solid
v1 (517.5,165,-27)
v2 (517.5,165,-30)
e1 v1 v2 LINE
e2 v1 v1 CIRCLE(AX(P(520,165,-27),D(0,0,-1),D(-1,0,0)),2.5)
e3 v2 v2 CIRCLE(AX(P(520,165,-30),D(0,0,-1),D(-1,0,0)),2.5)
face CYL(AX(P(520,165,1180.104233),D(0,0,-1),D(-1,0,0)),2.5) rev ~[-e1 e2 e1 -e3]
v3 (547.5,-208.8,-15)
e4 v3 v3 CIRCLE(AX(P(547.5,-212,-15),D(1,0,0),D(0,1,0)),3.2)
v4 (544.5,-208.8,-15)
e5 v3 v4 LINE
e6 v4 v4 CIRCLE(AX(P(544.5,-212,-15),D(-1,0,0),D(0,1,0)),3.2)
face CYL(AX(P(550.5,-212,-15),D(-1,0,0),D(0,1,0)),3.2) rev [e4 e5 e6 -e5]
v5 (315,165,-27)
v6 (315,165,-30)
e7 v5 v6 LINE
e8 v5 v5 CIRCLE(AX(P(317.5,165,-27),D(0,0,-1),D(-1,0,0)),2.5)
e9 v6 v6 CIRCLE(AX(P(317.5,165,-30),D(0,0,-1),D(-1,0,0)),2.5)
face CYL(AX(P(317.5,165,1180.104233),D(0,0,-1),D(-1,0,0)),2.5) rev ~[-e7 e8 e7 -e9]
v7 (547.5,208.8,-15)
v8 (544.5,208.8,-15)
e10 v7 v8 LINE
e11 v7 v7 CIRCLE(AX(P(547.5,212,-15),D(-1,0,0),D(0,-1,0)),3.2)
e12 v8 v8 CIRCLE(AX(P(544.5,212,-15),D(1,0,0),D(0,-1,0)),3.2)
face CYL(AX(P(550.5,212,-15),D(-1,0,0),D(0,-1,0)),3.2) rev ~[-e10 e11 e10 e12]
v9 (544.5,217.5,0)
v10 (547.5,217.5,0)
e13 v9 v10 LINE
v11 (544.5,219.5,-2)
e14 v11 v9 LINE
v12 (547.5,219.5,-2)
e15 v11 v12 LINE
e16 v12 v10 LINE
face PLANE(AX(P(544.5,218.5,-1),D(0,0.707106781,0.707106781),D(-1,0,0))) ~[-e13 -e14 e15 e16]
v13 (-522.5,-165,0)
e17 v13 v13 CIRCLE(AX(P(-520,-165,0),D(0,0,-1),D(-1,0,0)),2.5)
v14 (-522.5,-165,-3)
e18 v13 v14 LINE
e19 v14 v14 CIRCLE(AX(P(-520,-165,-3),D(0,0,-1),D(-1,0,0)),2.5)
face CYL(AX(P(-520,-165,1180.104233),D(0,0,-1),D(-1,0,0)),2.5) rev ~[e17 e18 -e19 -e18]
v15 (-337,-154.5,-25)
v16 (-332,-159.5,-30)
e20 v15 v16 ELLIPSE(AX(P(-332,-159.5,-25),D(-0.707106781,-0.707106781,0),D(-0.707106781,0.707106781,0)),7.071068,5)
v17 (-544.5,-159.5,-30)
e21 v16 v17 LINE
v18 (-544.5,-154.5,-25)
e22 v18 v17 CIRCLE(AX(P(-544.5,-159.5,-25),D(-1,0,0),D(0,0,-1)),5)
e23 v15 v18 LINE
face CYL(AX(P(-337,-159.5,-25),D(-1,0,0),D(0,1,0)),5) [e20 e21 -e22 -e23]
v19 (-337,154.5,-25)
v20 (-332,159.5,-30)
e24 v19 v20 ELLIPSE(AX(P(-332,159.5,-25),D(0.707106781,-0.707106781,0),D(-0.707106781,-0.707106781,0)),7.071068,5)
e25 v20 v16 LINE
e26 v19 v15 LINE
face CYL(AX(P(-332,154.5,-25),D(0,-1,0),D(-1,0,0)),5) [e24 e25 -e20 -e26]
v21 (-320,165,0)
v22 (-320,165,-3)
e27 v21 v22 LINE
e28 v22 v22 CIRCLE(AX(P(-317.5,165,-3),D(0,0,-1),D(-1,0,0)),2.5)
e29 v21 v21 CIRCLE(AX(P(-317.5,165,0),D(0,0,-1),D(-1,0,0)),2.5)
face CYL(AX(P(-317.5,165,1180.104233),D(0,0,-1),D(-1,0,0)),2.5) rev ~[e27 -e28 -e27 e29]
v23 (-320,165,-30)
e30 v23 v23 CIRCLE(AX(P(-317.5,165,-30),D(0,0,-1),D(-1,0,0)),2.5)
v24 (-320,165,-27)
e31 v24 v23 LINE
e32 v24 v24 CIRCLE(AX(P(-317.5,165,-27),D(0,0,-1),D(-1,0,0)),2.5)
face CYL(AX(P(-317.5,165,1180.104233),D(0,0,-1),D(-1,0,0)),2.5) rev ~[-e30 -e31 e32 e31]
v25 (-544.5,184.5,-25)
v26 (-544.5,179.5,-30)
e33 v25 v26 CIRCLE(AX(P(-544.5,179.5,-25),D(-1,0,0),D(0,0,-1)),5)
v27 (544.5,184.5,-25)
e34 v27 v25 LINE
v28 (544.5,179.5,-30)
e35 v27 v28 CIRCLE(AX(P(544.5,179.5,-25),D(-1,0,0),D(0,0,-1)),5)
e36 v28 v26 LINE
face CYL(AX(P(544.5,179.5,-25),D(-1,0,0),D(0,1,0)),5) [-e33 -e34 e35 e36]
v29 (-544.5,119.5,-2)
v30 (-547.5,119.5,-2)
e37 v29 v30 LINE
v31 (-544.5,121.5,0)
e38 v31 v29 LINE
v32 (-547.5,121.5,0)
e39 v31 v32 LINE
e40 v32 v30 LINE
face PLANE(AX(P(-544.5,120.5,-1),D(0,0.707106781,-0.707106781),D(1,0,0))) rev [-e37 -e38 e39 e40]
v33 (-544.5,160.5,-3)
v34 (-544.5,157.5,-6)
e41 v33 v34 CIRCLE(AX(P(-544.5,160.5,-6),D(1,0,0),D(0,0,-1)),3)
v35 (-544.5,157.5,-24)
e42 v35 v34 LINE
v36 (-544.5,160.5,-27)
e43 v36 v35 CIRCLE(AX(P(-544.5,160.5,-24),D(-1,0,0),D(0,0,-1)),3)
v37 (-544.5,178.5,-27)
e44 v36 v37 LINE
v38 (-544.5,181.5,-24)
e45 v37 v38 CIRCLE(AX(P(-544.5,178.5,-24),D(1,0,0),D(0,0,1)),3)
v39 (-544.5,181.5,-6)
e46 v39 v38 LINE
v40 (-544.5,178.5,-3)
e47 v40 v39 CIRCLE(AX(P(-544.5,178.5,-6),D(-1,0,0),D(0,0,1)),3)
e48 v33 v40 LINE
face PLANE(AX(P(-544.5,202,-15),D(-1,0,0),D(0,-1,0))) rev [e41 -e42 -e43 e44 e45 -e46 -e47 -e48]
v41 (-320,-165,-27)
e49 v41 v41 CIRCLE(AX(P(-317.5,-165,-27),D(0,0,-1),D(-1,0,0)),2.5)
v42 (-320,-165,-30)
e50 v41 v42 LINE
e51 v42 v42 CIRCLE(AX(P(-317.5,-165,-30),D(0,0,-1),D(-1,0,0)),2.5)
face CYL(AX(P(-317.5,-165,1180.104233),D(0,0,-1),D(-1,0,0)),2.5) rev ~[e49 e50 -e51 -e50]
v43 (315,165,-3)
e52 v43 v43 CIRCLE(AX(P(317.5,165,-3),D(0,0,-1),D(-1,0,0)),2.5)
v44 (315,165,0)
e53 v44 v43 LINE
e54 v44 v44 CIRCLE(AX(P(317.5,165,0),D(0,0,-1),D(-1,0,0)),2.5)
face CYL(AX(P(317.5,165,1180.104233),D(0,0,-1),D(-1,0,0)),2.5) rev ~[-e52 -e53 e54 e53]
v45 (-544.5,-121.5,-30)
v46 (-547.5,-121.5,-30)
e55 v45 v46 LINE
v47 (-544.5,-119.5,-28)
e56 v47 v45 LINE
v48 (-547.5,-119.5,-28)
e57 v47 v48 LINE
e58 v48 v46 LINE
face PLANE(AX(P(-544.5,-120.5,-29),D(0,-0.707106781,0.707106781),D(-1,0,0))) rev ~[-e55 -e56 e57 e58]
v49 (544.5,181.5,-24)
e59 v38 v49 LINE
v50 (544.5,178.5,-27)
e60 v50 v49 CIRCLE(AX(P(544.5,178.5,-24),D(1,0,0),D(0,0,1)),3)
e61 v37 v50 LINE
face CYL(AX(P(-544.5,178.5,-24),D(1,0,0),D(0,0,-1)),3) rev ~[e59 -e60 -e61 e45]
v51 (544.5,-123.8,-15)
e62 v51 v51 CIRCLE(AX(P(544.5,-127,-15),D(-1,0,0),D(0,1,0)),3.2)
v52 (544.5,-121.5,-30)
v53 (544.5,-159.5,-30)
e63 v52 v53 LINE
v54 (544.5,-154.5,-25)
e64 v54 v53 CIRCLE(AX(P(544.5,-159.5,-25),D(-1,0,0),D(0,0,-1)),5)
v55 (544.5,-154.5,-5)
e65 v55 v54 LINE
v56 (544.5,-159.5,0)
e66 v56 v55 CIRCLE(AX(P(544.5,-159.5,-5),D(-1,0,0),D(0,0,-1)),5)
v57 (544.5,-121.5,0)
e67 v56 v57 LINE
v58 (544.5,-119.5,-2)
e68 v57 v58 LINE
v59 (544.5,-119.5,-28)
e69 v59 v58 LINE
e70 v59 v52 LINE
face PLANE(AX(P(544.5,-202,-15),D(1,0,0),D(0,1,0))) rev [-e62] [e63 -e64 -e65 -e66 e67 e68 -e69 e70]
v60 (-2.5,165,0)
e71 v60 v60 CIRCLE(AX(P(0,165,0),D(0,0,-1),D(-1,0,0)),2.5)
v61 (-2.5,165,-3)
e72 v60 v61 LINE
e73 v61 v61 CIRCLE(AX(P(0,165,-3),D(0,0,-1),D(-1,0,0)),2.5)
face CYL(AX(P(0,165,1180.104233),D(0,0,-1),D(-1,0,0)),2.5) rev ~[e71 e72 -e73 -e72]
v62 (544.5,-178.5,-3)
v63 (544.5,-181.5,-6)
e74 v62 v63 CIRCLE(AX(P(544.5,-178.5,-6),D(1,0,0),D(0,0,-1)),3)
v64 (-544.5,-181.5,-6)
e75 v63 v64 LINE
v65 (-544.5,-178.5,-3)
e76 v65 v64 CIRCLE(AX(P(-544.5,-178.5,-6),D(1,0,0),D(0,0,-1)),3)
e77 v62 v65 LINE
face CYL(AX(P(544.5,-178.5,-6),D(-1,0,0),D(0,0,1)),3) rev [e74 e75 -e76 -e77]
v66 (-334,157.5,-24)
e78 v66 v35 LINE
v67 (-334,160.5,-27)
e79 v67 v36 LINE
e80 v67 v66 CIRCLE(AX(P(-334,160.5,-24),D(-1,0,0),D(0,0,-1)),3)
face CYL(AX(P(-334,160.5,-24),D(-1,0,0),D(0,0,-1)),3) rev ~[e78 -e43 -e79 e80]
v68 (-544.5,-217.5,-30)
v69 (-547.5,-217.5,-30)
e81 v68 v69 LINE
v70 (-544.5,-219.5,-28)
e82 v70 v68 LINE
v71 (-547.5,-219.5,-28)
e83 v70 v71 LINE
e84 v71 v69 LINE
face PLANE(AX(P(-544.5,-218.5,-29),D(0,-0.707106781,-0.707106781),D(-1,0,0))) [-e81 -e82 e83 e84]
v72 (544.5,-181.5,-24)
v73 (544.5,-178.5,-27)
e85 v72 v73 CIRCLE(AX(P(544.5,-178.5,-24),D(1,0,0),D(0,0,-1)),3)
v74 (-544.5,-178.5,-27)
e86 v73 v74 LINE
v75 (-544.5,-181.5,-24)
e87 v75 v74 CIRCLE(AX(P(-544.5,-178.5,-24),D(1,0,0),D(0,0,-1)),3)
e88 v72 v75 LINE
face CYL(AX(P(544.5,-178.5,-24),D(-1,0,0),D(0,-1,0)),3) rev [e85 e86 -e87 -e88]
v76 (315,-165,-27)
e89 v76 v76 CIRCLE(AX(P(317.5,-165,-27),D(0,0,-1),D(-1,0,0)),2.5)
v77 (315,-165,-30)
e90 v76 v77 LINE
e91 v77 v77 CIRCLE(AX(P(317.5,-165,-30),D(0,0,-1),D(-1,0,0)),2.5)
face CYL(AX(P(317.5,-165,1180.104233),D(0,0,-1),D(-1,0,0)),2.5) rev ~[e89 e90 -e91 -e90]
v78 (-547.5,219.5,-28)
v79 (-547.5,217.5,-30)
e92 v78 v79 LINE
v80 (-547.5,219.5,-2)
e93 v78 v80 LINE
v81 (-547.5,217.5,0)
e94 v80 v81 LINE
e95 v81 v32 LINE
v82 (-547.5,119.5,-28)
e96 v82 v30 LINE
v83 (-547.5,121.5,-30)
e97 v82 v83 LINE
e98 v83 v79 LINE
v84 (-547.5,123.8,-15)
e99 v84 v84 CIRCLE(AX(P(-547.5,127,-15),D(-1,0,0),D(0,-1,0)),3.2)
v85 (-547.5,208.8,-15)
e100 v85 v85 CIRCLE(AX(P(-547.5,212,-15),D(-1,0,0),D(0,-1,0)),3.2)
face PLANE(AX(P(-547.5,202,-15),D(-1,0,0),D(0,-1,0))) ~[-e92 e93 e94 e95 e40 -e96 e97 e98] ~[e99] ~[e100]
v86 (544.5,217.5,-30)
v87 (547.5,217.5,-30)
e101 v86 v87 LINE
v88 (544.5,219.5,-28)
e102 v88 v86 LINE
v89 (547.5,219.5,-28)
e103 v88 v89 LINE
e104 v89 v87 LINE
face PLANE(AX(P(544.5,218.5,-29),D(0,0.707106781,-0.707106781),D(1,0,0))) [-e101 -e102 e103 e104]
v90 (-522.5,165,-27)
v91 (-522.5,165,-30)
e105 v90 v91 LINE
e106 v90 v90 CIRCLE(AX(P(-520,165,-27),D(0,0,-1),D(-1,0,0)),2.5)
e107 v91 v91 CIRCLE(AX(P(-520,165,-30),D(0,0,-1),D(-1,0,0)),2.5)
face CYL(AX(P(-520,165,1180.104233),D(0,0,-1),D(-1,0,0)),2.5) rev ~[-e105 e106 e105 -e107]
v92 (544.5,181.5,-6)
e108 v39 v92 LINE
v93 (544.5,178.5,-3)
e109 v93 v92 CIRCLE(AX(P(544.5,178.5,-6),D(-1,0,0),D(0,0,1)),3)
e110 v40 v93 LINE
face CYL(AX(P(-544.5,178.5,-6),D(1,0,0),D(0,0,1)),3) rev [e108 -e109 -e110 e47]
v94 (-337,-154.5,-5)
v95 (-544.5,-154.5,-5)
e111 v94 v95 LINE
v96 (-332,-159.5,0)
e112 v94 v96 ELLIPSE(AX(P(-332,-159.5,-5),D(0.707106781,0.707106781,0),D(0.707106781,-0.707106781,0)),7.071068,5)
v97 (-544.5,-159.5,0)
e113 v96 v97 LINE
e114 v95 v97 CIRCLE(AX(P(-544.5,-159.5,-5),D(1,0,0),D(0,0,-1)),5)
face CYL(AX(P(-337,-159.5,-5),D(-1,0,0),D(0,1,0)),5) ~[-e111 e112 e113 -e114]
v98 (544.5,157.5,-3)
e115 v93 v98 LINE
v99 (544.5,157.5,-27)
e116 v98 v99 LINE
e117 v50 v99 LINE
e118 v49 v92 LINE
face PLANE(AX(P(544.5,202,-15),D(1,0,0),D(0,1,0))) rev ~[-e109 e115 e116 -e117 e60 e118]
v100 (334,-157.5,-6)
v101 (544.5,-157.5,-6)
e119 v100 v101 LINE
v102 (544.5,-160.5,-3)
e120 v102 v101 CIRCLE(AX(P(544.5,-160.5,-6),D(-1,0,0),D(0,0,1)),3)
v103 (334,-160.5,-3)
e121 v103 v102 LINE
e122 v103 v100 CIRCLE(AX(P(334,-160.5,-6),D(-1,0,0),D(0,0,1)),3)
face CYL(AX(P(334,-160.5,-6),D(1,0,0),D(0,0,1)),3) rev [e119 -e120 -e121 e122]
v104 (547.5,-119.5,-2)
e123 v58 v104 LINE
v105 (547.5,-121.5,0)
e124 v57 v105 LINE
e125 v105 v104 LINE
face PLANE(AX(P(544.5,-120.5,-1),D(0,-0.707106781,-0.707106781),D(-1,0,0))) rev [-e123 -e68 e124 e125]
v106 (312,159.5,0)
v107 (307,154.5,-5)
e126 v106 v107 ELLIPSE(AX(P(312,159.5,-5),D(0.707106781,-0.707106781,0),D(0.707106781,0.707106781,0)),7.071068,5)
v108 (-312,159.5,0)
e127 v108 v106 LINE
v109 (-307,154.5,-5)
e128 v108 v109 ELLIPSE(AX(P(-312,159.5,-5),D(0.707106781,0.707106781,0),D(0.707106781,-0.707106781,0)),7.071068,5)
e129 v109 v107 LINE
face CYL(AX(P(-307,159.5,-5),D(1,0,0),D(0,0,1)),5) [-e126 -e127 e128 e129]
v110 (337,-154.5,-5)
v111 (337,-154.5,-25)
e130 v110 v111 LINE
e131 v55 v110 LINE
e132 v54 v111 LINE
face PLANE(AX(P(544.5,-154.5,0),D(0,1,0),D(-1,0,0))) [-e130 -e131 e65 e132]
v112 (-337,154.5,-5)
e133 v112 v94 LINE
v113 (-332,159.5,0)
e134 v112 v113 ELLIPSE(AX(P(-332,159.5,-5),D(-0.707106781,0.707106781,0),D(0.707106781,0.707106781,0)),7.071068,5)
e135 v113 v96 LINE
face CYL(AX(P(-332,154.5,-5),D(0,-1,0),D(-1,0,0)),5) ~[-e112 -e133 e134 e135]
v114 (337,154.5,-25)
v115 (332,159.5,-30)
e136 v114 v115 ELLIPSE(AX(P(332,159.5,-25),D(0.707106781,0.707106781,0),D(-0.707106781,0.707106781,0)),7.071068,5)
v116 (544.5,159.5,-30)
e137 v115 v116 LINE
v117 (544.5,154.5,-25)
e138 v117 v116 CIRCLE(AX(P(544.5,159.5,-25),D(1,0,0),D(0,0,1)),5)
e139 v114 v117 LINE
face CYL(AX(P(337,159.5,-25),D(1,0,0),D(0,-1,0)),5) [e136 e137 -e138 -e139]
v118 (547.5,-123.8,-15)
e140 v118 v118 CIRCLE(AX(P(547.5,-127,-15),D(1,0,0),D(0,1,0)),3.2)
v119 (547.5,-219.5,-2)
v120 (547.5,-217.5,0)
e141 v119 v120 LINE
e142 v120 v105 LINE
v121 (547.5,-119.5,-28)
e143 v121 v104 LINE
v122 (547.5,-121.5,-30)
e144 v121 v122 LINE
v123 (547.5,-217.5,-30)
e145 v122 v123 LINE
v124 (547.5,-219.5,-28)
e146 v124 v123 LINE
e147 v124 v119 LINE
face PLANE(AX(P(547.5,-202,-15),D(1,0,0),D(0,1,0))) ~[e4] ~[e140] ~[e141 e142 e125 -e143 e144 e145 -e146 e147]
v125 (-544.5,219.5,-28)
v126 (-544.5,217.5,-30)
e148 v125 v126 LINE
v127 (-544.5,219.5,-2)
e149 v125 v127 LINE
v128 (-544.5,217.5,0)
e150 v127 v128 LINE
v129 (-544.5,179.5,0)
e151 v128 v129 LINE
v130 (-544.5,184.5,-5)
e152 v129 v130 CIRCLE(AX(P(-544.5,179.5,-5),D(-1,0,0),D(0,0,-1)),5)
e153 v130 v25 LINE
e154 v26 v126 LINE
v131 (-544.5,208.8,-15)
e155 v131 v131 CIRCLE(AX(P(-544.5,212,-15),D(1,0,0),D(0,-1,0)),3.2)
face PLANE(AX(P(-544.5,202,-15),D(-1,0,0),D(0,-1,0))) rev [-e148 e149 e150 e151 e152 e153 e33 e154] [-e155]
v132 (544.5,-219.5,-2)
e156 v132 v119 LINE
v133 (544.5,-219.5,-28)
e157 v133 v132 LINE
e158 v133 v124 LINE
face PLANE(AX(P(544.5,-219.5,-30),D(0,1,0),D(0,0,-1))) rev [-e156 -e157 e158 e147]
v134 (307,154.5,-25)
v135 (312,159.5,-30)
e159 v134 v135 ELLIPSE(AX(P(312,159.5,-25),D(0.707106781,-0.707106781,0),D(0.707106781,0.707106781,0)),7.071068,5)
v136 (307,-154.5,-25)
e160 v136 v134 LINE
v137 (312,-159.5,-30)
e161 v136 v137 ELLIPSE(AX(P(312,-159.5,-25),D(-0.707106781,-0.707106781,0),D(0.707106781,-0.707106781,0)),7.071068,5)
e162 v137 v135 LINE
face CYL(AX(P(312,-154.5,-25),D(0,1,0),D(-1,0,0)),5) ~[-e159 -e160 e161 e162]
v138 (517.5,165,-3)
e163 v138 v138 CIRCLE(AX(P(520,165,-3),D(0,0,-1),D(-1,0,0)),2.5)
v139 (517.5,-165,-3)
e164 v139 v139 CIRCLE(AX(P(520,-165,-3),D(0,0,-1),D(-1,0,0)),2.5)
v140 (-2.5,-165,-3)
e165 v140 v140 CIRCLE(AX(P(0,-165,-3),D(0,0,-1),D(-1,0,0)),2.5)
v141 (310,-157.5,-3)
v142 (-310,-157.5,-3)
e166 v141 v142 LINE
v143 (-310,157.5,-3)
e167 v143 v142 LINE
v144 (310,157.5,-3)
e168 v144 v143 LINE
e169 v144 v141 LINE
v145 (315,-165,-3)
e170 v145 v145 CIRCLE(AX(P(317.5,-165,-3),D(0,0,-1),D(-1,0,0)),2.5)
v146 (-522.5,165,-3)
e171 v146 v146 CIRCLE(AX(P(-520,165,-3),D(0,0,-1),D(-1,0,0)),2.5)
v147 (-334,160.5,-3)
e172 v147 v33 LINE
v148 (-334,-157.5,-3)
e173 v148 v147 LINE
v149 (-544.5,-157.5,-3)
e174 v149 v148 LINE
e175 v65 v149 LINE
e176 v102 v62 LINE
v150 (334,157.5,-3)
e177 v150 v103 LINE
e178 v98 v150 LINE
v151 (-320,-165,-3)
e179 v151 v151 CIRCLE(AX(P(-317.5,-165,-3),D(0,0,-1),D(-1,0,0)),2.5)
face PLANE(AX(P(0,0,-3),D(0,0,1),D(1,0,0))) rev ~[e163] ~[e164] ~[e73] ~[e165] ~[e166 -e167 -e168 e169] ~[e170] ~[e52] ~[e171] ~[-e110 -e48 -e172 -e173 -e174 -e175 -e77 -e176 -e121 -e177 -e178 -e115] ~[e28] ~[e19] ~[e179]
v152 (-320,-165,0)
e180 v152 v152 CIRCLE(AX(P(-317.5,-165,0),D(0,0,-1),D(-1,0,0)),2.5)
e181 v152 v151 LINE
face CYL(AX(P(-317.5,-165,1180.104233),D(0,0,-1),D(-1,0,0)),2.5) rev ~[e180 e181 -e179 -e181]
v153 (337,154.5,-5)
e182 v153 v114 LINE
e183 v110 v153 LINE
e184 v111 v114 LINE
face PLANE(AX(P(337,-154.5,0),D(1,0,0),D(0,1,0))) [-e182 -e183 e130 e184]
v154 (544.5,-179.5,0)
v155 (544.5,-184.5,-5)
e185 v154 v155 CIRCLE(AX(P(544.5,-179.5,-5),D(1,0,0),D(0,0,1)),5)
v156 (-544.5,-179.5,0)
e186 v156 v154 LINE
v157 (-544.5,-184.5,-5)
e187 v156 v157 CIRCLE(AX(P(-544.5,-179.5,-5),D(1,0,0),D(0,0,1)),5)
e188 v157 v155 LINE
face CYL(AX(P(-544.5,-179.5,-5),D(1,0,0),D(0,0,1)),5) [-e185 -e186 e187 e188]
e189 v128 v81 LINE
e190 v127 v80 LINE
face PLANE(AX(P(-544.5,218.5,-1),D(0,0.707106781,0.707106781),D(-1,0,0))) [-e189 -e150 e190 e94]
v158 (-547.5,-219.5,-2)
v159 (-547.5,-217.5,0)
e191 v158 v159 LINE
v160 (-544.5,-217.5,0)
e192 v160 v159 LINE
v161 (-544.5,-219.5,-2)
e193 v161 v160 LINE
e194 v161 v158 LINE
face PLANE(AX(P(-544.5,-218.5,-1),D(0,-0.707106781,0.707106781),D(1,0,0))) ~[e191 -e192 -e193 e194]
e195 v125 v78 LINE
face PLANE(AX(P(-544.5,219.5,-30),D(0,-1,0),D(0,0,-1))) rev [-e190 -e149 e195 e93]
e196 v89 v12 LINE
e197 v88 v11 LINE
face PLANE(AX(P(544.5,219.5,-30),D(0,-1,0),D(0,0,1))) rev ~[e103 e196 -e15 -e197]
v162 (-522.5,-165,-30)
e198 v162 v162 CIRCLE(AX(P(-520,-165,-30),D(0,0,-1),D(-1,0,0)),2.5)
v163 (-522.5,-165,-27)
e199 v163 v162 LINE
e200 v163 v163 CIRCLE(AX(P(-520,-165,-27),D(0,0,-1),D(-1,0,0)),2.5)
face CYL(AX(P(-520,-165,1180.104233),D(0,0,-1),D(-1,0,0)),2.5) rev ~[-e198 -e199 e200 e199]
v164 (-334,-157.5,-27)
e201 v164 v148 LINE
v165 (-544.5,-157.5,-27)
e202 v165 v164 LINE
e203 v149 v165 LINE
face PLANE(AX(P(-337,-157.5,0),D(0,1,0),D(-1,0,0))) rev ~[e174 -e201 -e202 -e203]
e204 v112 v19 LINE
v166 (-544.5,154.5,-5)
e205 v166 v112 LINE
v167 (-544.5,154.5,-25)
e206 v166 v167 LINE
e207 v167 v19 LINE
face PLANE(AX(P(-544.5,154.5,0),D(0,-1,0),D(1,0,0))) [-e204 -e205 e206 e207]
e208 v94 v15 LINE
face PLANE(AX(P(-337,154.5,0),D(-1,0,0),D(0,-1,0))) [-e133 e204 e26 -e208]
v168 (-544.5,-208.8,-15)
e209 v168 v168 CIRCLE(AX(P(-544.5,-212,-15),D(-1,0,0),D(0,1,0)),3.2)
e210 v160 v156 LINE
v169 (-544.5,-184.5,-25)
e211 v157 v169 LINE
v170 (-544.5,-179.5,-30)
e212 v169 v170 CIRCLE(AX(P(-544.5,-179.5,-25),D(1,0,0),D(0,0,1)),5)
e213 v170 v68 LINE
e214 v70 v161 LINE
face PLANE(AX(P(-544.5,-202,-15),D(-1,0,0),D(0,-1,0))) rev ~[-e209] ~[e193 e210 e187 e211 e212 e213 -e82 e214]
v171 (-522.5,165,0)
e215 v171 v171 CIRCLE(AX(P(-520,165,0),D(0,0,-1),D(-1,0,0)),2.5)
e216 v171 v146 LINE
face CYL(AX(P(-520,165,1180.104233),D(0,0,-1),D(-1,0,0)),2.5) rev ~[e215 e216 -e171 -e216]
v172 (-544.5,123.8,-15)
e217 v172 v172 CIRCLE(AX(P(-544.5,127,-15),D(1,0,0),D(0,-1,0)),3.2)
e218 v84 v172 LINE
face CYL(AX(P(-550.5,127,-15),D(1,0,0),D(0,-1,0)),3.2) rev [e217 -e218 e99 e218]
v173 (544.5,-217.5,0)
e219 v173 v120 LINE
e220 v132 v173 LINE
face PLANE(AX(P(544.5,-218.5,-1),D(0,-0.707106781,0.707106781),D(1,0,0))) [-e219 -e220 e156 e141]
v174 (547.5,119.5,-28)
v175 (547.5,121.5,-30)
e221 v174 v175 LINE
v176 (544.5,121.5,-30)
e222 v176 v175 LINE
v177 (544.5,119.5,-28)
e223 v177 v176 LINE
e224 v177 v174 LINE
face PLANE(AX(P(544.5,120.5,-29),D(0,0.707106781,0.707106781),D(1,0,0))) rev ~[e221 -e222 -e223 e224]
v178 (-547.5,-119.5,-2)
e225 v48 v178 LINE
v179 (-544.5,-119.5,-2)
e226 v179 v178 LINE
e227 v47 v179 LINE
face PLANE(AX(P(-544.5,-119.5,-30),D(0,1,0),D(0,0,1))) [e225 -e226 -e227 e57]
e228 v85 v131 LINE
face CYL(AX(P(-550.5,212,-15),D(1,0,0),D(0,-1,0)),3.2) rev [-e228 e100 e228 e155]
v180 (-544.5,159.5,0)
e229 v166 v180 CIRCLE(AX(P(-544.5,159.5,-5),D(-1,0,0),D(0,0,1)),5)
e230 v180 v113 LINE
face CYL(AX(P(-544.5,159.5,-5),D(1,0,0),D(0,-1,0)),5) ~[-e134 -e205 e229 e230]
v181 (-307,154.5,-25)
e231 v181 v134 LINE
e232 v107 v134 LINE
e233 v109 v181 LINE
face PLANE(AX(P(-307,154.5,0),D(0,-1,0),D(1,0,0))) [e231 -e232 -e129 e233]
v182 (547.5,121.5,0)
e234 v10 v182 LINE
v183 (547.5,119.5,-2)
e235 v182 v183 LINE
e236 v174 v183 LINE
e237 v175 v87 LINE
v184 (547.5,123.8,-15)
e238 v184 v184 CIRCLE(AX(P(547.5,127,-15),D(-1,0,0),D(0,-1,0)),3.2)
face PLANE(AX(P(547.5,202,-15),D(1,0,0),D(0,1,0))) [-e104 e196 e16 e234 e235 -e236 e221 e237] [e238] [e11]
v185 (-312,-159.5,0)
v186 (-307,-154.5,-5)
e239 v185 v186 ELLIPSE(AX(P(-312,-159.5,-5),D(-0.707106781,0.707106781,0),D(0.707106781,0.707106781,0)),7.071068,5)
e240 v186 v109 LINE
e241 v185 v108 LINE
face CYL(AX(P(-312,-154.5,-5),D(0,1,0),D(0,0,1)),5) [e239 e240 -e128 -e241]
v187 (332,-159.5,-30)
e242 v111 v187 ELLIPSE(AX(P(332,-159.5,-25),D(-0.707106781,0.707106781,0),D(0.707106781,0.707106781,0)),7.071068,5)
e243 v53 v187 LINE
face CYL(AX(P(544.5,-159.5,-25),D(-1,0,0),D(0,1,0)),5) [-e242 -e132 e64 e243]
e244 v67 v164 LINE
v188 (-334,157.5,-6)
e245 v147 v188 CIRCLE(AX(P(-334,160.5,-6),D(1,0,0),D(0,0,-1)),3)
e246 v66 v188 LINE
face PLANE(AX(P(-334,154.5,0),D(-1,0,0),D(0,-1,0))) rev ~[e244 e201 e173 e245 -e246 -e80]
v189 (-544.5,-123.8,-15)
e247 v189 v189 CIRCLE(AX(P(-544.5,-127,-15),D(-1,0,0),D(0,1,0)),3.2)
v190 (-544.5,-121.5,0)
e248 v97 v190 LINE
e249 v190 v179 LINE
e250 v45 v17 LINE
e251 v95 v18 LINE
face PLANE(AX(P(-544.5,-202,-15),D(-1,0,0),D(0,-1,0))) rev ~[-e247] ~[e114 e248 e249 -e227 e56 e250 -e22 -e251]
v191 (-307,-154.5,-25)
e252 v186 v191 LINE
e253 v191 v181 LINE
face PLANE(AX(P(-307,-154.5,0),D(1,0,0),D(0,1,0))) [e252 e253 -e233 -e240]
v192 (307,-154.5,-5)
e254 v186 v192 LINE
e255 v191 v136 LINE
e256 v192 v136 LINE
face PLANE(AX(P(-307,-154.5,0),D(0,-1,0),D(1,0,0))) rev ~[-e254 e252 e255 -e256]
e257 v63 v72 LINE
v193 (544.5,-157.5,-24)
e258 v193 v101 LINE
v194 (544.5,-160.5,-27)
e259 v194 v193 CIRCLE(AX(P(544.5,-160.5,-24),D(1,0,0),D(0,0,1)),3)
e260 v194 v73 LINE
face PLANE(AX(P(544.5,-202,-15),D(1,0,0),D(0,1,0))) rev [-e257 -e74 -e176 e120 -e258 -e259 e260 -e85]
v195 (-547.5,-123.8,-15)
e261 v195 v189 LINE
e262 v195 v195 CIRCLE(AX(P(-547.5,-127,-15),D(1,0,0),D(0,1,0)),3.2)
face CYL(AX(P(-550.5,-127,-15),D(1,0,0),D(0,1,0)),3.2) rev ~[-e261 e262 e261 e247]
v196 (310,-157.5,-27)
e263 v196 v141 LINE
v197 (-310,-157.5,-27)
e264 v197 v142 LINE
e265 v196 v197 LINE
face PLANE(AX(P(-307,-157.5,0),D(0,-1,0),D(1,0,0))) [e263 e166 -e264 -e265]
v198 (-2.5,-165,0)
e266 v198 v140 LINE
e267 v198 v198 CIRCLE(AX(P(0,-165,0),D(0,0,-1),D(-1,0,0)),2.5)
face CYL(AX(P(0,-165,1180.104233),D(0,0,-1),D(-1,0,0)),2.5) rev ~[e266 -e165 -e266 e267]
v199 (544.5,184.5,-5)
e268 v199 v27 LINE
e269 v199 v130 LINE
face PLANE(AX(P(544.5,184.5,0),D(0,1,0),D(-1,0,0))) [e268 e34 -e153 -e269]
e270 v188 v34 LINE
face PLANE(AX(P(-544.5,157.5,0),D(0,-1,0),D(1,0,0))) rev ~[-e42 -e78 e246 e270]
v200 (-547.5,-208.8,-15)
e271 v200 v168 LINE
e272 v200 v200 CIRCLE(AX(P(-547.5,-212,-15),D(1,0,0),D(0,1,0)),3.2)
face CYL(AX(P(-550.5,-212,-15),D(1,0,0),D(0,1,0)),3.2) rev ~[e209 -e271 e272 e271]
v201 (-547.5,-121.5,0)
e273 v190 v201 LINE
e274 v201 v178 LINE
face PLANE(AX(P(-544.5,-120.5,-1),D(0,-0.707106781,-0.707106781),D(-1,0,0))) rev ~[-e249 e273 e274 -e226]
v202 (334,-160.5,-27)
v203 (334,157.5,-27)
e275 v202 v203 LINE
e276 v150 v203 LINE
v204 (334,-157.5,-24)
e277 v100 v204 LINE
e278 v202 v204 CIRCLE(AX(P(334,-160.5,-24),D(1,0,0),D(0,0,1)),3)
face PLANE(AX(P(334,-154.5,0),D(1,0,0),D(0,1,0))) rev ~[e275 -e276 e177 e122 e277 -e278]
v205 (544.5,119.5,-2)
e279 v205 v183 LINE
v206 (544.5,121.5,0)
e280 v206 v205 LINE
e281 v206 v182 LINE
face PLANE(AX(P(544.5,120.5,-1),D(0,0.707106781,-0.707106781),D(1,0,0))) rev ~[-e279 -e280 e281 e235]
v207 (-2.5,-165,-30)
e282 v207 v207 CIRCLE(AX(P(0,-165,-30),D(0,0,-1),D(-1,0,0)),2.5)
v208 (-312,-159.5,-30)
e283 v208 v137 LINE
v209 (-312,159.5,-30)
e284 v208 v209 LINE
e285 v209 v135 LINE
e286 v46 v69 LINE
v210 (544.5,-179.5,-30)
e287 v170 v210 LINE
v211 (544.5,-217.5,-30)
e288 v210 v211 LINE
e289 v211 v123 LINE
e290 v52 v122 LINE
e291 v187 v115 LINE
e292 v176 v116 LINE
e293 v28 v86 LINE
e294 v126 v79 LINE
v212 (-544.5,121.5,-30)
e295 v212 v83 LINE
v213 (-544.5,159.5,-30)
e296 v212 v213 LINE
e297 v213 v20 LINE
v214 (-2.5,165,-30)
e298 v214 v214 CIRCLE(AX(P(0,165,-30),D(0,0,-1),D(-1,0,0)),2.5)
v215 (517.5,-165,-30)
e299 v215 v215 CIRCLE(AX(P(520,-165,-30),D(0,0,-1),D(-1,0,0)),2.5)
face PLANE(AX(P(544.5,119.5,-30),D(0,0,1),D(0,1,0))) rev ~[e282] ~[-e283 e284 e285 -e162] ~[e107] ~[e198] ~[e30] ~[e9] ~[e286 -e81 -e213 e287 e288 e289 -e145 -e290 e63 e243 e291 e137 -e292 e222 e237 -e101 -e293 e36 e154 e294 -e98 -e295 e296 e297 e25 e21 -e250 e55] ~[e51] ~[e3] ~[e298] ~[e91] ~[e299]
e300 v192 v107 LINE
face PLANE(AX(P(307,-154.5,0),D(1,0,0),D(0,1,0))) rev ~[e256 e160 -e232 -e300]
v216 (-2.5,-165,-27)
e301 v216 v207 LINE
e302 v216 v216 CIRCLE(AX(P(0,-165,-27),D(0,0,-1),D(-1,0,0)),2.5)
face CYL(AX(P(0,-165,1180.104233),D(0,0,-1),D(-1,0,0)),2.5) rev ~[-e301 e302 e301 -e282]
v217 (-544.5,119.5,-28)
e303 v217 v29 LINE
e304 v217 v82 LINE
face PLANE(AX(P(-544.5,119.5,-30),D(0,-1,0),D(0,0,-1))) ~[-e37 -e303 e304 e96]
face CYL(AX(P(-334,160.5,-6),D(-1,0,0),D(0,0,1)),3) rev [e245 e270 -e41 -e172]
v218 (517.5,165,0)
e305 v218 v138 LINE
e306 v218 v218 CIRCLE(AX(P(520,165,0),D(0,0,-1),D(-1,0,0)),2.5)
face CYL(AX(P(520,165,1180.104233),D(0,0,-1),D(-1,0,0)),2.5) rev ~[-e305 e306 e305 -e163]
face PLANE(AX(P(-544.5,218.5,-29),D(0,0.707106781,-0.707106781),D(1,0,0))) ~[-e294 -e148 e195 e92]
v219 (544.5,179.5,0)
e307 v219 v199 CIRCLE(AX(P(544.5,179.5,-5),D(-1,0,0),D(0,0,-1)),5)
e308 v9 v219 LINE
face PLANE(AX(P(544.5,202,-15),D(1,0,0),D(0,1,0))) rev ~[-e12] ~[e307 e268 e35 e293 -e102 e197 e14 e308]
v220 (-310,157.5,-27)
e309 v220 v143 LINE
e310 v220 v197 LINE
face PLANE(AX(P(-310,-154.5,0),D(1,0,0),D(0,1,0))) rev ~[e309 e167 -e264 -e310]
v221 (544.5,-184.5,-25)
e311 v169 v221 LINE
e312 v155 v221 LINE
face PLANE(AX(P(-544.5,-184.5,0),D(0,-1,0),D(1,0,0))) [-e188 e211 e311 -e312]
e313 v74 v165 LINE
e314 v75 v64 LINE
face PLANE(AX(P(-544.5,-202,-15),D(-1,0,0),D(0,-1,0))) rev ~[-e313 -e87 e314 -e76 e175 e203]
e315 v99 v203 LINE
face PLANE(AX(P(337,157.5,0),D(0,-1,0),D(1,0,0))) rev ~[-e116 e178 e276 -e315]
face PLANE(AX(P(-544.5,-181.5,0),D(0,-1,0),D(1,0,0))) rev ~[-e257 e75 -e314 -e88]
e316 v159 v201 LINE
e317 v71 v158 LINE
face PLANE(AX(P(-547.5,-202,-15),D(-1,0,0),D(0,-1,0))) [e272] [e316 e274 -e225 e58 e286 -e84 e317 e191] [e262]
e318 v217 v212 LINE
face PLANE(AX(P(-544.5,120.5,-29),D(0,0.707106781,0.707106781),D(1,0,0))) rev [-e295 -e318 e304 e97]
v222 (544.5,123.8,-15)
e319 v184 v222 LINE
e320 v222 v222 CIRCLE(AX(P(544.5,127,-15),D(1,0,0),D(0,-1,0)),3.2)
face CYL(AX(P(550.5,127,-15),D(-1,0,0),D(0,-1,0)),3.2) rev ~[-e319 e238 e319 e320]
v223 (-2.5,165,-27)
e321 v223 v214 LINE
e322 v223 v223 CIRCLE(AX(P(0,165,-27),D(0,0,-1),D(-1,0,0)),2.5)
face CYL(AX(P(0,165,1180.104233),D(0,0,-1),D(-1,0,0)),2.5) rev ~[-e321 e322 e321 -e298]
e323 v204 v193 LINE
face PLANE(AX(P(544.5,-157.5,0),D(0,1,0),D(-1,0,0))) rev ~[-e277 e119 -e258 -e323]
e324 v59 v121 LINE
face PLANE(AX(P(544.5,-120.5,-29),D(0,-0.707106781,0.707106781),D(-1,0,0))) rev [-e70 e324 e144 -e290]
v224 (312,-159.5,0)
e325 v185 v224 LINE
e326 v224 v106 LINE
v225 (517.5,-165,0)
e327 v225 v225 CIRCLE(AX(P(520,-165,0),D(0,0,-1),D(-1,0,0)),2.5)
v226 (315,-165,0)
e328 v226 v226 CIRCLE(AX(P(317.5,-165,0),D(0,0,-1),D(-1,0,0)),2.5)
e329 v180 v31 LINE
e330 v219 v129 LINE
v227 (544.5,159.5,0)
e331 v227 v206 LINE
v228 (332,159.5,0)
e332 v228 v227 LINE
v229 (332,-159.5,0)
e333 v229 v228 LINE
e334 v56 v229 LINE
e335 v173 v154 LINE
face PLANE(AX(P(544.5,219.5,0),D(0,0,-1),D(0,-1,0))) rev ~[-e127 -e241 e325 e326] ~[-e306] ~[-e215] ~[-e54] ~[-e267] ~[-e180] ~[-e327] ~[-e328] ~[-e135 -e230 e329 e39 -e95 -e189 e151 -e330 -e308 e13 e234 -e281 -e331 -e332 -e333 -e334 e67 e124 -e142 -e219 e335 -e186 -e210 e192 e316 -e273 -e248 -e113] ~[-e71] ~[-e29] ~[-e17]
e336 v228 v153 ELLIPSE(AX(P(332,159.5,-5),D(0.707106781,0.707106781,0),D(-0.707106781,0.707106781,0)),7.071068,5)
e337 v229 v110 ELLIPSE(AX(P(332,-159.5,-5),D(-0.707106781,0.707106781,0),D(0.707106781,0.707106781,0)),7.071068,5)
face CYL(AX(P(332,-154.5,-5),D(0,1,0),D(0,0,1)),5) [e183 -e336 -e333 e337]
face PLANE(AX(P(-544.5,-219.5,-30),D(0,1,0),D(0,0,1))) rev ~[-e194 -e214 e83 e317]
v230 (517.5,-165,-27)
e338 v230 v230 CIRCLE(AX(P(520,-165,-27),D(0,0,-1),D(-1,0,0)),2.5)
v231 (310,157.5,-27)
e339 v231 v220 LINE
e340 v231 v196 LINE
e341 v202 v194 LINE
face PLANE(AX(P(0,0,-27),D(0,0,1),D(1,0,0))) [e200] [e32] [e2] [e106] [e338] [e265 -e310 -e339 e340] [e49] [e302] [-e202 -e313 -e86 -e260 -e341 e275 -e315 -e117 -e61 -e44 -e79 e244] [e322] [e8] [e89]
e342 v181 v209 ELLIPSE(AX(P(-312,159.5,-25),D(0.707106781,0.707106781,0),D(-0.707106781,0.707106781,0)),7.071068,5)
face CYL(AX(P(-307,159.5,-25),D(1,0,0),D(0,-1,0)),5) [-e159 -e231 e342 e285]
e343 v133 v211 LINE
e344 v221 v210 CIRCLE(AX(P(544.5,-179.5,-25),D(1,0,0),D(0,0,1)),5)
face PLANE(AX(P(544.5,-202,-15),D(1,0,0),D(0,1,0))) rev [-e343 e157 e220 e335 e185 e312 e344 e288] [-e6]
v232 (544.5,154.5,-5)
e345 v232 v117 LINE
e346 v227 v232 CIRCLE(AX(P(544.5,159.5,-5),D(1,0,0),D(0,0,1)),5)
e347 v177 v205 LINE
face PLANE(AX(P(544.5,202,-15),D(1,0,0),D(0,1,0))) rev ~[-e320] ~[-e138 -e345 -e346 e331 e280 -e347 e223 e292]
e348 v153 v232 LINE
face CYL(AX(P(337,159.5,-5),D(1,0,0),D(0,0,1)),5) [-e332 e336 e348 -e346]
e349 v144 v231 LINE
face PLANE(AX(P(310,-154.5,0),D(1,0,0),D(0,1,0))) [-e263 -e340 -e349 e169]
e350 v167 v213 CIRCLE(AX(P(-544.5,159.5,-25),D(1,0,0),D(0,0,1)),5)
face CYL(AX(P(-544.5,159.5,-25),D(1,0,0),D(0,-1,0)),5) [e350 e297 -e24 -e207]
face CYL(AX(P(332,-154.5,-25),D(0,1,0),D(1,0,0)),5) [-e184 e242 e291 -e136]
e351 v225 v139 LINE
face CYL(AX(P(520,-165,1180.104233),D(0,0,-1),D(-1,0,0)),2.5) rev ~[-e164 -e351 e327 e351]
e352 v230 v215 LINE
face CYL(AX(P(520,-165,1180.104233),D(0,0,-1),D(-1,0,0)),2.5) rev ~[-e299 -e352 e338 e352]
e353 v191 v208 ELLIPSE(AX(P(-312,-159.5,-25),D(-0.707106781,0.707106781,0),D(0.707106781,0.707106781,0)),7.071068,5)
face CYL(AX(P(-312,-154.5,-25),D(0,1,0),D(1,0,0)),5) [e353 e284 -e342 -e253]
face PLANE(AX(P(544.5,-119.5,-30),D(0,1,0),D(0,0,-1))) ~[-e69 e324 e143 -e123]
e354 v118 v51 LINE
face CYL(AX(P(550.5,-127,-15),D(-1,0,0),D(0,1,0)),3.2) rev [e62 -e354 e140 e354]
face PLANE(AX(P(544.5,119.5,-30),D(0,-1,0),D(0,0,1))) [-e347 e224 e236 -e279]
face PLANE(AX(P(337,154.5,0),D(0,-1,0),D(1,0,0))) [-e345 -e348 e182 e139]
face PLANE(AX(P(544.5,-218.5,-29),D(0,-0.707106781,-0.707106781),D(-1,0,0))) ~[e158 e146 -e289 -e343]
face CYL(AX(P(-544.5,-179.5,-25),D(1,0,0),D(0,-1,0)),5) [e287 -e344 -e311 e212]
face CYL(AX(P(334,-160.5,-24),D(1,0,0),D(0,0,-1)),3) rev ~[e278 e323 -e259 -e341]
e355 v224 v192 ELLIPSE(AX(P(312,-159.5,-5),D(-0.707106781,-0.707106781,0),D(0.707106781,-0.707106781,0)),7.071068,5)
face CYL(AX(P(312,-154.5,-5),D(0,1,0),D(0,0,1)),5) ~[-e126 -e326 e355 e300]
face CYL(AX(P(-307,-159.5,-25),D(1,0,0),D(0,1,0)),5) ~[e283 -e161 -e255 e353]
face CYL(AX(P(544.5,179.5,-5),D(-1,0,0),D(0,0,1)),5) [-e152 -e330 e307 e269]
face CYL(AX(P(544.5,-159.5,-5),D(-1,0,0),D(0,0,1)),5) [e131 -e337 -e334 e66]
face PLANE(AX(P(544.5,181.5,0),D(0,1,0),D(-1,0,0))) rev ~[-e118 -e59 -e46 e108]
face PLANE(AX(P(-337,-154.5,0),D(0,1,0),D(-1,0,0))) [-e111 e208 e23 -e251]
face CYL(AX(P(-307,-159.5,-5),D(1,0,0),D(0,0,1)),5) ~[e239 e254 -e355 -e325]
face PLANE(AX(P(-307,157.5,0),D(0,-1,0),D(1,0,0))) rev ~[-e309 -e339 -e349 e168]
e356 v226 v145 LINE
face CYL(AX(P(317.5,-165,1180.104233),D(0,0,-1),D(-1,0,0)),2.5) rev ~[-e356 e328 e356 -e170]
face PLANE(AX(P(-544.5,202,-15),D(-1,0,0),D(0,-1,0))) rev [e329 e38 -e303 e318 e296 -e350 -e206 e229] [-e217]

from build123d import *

# Parameters (mm, degrees)
F0_W      = 614
F0_H      = 309
F1_DEPTH  = 30
F2_T      = -3
F3_W      = 35
F3_H      = 30
F3_W_2    = 30
F3_W_3    = 24
F3_H_2    = 24
F4_DEPTH  = 3
F6_SIZE   = 2
F7_R      = 5
F8_R      = 3
F10_D     = 6.4
F10_DEPTH = 3
F10_TIP   = 1.9227539809
F13_D     = 5


with BuildPart() as f1:
    # F0 (on Top) → F1 (new body)
    with BuildSketch(Plane.XY):
        Polygon((-337, -154.5), (-544.5, -154.5), (-544.5, -184.5), (544.5, -184.5), (544.5, -154.5), (337, -154.5), (337, 154.5), (544.5, 154.5), (544.5, 184.5), (-544.5, 184.5), (-544.5, 154.5), (-337, 154.5), align=None)
        Rectangle(F0_W, F0_H, mode=Mode.SUBTRACT)
    extrude(amount=-F1_DEPTH)

    # F2
    f2_openings = [f1.faces().sort_by_distance(p)[0] for p in [
        (-544.5, -169.5, -15),
        (-544.5, 169.5, -15),
        (544.5, 169.5, -15),
        (544.5, -169.5, -15),
    ]]
    offset(amount=F2_T, openings=f2_openings, kind=Kind.INTERSECTION)

    # F7
    f7_edges = [f1.edges().sort_by_distance(p)[0] for p in [
        (0, -184.5, -30),
        (-440.75, -154.5, -30),
        (-337, 0, -30),
        (-307, 0, -30),
        (0, -154.5, -30),
        (-440.75, 154.5, -30),
        (0, 184.5, -30),
        (307, 0, -30),
        (337, 0, -30),
        (0, 154.5, -30),
        (440.75, 154.5, -30),
        (0, 184.5, 0),
        (-440.75, 154.5, 0),
        (0, 154.5, 0),
        (-337, 0, 0),
        (-307, 0, 0),
        (-440.75, -154.5, 0),
        (0, -154.5, 0),
        (307, 0, 0),
        (337, 0, 0),
        (440.75, -154.5, 0),
        (440.75, 154.5, 0),
        (440.75, -154.5, -30),
        (0, -184.5, 0),
    ]]
    fillet(f7_edges, radius=F7_R)

    # F8
    f8_edges = [f1.edges().sort_by_distance(p)[0] for p in [
        (-439.25, 157.5, -3),
        (-439.25, 157.5, -27),
        (0, 181.5, -27),
        (0, 181.5, -3),
        (0, -181.5, -3),
        (439.25, -157.5, -3),
        (439.25, -157.5, -27),
        (0, -181.5, -27),
    ]]
    fillet(f8_edges, radius=F8_R)



with BuildPart() as f4:
    # F3 (on face) → F4 (new body)
    with BuildSketch(Plane(origin=(-544.5, 0, 0), x_dir=(0, -1, 0), z_dir=(-1, 0, 0))):
        with Locations((202, -15)):
            Rectangle(F3_W, F3_H)
        with Locations((137, -15)):
            Rectangle(F3_W, F3_H)
        with Locations((169.5, -15)):
            Rectangle(F3_W_2, F3_H)
        with Locations((169.5, -15)):
            Rectangle(F3_W_3, F3_H_2, mode=Mode.SUBTRACT)
        with Locations((169.5, -15)):
            Rectangle(F3_W_3, F3_H_2)
    extrude(amount=F4_DEPTH)

    # F6
    f6_edges = [f4.edges().sort_by_distance(p)[0] for p in [
        (-546, -219.5, -30),
        (-546, -219.5, 0),
        (-546, -119.5, -30),
        (-546, -119.5, 0),
    ]]
    chamfer(f6_edges, length=F6_SIZE)

    # F10
    with Locations(Plane(origin=(-547.5, 0, 0), x_dir=(0, -1, 0), z_dir=(-1, 0, 0))):
        with Locations((127, -15), (212, -15)):
            Hole(F10_D / 2, depth=F10_DEPTH)
            with Locations((0, 0, -(F10_DEPTH + F10_TIP / 2))):  # 118° drill point
                Cone(0, F10_D / 2, F10_TIP, mode=Mode.SUBTRACT)


with BuildPart() as f11_1:
    # F11: instance of F4
    add(f4.part.mirror(Plane.YZ))


with BuildPart() as f1_1:
    add(f1.part)

    add(f4.part)  # F12 merges F4

    add(f11_1.part)  # F12 merges F11_1
    # F12: F4, F11_1 across plane
    add(f4.part.mirror(Plane.XZ))
    add(f11_1.part.mirror(Plane.XZ))

    # F13 (through all)
    with Locations(Plane.XY):
        with Locations((-520, 165), (-317.5, 165), (0, 165), (317.5, 165), (520, 165), (520, -165), (317.5, -165), (0, -165), (-317.5, -165), (-520, -165)):
            Hole(F13_D / 2)


solid = f1_1.part
